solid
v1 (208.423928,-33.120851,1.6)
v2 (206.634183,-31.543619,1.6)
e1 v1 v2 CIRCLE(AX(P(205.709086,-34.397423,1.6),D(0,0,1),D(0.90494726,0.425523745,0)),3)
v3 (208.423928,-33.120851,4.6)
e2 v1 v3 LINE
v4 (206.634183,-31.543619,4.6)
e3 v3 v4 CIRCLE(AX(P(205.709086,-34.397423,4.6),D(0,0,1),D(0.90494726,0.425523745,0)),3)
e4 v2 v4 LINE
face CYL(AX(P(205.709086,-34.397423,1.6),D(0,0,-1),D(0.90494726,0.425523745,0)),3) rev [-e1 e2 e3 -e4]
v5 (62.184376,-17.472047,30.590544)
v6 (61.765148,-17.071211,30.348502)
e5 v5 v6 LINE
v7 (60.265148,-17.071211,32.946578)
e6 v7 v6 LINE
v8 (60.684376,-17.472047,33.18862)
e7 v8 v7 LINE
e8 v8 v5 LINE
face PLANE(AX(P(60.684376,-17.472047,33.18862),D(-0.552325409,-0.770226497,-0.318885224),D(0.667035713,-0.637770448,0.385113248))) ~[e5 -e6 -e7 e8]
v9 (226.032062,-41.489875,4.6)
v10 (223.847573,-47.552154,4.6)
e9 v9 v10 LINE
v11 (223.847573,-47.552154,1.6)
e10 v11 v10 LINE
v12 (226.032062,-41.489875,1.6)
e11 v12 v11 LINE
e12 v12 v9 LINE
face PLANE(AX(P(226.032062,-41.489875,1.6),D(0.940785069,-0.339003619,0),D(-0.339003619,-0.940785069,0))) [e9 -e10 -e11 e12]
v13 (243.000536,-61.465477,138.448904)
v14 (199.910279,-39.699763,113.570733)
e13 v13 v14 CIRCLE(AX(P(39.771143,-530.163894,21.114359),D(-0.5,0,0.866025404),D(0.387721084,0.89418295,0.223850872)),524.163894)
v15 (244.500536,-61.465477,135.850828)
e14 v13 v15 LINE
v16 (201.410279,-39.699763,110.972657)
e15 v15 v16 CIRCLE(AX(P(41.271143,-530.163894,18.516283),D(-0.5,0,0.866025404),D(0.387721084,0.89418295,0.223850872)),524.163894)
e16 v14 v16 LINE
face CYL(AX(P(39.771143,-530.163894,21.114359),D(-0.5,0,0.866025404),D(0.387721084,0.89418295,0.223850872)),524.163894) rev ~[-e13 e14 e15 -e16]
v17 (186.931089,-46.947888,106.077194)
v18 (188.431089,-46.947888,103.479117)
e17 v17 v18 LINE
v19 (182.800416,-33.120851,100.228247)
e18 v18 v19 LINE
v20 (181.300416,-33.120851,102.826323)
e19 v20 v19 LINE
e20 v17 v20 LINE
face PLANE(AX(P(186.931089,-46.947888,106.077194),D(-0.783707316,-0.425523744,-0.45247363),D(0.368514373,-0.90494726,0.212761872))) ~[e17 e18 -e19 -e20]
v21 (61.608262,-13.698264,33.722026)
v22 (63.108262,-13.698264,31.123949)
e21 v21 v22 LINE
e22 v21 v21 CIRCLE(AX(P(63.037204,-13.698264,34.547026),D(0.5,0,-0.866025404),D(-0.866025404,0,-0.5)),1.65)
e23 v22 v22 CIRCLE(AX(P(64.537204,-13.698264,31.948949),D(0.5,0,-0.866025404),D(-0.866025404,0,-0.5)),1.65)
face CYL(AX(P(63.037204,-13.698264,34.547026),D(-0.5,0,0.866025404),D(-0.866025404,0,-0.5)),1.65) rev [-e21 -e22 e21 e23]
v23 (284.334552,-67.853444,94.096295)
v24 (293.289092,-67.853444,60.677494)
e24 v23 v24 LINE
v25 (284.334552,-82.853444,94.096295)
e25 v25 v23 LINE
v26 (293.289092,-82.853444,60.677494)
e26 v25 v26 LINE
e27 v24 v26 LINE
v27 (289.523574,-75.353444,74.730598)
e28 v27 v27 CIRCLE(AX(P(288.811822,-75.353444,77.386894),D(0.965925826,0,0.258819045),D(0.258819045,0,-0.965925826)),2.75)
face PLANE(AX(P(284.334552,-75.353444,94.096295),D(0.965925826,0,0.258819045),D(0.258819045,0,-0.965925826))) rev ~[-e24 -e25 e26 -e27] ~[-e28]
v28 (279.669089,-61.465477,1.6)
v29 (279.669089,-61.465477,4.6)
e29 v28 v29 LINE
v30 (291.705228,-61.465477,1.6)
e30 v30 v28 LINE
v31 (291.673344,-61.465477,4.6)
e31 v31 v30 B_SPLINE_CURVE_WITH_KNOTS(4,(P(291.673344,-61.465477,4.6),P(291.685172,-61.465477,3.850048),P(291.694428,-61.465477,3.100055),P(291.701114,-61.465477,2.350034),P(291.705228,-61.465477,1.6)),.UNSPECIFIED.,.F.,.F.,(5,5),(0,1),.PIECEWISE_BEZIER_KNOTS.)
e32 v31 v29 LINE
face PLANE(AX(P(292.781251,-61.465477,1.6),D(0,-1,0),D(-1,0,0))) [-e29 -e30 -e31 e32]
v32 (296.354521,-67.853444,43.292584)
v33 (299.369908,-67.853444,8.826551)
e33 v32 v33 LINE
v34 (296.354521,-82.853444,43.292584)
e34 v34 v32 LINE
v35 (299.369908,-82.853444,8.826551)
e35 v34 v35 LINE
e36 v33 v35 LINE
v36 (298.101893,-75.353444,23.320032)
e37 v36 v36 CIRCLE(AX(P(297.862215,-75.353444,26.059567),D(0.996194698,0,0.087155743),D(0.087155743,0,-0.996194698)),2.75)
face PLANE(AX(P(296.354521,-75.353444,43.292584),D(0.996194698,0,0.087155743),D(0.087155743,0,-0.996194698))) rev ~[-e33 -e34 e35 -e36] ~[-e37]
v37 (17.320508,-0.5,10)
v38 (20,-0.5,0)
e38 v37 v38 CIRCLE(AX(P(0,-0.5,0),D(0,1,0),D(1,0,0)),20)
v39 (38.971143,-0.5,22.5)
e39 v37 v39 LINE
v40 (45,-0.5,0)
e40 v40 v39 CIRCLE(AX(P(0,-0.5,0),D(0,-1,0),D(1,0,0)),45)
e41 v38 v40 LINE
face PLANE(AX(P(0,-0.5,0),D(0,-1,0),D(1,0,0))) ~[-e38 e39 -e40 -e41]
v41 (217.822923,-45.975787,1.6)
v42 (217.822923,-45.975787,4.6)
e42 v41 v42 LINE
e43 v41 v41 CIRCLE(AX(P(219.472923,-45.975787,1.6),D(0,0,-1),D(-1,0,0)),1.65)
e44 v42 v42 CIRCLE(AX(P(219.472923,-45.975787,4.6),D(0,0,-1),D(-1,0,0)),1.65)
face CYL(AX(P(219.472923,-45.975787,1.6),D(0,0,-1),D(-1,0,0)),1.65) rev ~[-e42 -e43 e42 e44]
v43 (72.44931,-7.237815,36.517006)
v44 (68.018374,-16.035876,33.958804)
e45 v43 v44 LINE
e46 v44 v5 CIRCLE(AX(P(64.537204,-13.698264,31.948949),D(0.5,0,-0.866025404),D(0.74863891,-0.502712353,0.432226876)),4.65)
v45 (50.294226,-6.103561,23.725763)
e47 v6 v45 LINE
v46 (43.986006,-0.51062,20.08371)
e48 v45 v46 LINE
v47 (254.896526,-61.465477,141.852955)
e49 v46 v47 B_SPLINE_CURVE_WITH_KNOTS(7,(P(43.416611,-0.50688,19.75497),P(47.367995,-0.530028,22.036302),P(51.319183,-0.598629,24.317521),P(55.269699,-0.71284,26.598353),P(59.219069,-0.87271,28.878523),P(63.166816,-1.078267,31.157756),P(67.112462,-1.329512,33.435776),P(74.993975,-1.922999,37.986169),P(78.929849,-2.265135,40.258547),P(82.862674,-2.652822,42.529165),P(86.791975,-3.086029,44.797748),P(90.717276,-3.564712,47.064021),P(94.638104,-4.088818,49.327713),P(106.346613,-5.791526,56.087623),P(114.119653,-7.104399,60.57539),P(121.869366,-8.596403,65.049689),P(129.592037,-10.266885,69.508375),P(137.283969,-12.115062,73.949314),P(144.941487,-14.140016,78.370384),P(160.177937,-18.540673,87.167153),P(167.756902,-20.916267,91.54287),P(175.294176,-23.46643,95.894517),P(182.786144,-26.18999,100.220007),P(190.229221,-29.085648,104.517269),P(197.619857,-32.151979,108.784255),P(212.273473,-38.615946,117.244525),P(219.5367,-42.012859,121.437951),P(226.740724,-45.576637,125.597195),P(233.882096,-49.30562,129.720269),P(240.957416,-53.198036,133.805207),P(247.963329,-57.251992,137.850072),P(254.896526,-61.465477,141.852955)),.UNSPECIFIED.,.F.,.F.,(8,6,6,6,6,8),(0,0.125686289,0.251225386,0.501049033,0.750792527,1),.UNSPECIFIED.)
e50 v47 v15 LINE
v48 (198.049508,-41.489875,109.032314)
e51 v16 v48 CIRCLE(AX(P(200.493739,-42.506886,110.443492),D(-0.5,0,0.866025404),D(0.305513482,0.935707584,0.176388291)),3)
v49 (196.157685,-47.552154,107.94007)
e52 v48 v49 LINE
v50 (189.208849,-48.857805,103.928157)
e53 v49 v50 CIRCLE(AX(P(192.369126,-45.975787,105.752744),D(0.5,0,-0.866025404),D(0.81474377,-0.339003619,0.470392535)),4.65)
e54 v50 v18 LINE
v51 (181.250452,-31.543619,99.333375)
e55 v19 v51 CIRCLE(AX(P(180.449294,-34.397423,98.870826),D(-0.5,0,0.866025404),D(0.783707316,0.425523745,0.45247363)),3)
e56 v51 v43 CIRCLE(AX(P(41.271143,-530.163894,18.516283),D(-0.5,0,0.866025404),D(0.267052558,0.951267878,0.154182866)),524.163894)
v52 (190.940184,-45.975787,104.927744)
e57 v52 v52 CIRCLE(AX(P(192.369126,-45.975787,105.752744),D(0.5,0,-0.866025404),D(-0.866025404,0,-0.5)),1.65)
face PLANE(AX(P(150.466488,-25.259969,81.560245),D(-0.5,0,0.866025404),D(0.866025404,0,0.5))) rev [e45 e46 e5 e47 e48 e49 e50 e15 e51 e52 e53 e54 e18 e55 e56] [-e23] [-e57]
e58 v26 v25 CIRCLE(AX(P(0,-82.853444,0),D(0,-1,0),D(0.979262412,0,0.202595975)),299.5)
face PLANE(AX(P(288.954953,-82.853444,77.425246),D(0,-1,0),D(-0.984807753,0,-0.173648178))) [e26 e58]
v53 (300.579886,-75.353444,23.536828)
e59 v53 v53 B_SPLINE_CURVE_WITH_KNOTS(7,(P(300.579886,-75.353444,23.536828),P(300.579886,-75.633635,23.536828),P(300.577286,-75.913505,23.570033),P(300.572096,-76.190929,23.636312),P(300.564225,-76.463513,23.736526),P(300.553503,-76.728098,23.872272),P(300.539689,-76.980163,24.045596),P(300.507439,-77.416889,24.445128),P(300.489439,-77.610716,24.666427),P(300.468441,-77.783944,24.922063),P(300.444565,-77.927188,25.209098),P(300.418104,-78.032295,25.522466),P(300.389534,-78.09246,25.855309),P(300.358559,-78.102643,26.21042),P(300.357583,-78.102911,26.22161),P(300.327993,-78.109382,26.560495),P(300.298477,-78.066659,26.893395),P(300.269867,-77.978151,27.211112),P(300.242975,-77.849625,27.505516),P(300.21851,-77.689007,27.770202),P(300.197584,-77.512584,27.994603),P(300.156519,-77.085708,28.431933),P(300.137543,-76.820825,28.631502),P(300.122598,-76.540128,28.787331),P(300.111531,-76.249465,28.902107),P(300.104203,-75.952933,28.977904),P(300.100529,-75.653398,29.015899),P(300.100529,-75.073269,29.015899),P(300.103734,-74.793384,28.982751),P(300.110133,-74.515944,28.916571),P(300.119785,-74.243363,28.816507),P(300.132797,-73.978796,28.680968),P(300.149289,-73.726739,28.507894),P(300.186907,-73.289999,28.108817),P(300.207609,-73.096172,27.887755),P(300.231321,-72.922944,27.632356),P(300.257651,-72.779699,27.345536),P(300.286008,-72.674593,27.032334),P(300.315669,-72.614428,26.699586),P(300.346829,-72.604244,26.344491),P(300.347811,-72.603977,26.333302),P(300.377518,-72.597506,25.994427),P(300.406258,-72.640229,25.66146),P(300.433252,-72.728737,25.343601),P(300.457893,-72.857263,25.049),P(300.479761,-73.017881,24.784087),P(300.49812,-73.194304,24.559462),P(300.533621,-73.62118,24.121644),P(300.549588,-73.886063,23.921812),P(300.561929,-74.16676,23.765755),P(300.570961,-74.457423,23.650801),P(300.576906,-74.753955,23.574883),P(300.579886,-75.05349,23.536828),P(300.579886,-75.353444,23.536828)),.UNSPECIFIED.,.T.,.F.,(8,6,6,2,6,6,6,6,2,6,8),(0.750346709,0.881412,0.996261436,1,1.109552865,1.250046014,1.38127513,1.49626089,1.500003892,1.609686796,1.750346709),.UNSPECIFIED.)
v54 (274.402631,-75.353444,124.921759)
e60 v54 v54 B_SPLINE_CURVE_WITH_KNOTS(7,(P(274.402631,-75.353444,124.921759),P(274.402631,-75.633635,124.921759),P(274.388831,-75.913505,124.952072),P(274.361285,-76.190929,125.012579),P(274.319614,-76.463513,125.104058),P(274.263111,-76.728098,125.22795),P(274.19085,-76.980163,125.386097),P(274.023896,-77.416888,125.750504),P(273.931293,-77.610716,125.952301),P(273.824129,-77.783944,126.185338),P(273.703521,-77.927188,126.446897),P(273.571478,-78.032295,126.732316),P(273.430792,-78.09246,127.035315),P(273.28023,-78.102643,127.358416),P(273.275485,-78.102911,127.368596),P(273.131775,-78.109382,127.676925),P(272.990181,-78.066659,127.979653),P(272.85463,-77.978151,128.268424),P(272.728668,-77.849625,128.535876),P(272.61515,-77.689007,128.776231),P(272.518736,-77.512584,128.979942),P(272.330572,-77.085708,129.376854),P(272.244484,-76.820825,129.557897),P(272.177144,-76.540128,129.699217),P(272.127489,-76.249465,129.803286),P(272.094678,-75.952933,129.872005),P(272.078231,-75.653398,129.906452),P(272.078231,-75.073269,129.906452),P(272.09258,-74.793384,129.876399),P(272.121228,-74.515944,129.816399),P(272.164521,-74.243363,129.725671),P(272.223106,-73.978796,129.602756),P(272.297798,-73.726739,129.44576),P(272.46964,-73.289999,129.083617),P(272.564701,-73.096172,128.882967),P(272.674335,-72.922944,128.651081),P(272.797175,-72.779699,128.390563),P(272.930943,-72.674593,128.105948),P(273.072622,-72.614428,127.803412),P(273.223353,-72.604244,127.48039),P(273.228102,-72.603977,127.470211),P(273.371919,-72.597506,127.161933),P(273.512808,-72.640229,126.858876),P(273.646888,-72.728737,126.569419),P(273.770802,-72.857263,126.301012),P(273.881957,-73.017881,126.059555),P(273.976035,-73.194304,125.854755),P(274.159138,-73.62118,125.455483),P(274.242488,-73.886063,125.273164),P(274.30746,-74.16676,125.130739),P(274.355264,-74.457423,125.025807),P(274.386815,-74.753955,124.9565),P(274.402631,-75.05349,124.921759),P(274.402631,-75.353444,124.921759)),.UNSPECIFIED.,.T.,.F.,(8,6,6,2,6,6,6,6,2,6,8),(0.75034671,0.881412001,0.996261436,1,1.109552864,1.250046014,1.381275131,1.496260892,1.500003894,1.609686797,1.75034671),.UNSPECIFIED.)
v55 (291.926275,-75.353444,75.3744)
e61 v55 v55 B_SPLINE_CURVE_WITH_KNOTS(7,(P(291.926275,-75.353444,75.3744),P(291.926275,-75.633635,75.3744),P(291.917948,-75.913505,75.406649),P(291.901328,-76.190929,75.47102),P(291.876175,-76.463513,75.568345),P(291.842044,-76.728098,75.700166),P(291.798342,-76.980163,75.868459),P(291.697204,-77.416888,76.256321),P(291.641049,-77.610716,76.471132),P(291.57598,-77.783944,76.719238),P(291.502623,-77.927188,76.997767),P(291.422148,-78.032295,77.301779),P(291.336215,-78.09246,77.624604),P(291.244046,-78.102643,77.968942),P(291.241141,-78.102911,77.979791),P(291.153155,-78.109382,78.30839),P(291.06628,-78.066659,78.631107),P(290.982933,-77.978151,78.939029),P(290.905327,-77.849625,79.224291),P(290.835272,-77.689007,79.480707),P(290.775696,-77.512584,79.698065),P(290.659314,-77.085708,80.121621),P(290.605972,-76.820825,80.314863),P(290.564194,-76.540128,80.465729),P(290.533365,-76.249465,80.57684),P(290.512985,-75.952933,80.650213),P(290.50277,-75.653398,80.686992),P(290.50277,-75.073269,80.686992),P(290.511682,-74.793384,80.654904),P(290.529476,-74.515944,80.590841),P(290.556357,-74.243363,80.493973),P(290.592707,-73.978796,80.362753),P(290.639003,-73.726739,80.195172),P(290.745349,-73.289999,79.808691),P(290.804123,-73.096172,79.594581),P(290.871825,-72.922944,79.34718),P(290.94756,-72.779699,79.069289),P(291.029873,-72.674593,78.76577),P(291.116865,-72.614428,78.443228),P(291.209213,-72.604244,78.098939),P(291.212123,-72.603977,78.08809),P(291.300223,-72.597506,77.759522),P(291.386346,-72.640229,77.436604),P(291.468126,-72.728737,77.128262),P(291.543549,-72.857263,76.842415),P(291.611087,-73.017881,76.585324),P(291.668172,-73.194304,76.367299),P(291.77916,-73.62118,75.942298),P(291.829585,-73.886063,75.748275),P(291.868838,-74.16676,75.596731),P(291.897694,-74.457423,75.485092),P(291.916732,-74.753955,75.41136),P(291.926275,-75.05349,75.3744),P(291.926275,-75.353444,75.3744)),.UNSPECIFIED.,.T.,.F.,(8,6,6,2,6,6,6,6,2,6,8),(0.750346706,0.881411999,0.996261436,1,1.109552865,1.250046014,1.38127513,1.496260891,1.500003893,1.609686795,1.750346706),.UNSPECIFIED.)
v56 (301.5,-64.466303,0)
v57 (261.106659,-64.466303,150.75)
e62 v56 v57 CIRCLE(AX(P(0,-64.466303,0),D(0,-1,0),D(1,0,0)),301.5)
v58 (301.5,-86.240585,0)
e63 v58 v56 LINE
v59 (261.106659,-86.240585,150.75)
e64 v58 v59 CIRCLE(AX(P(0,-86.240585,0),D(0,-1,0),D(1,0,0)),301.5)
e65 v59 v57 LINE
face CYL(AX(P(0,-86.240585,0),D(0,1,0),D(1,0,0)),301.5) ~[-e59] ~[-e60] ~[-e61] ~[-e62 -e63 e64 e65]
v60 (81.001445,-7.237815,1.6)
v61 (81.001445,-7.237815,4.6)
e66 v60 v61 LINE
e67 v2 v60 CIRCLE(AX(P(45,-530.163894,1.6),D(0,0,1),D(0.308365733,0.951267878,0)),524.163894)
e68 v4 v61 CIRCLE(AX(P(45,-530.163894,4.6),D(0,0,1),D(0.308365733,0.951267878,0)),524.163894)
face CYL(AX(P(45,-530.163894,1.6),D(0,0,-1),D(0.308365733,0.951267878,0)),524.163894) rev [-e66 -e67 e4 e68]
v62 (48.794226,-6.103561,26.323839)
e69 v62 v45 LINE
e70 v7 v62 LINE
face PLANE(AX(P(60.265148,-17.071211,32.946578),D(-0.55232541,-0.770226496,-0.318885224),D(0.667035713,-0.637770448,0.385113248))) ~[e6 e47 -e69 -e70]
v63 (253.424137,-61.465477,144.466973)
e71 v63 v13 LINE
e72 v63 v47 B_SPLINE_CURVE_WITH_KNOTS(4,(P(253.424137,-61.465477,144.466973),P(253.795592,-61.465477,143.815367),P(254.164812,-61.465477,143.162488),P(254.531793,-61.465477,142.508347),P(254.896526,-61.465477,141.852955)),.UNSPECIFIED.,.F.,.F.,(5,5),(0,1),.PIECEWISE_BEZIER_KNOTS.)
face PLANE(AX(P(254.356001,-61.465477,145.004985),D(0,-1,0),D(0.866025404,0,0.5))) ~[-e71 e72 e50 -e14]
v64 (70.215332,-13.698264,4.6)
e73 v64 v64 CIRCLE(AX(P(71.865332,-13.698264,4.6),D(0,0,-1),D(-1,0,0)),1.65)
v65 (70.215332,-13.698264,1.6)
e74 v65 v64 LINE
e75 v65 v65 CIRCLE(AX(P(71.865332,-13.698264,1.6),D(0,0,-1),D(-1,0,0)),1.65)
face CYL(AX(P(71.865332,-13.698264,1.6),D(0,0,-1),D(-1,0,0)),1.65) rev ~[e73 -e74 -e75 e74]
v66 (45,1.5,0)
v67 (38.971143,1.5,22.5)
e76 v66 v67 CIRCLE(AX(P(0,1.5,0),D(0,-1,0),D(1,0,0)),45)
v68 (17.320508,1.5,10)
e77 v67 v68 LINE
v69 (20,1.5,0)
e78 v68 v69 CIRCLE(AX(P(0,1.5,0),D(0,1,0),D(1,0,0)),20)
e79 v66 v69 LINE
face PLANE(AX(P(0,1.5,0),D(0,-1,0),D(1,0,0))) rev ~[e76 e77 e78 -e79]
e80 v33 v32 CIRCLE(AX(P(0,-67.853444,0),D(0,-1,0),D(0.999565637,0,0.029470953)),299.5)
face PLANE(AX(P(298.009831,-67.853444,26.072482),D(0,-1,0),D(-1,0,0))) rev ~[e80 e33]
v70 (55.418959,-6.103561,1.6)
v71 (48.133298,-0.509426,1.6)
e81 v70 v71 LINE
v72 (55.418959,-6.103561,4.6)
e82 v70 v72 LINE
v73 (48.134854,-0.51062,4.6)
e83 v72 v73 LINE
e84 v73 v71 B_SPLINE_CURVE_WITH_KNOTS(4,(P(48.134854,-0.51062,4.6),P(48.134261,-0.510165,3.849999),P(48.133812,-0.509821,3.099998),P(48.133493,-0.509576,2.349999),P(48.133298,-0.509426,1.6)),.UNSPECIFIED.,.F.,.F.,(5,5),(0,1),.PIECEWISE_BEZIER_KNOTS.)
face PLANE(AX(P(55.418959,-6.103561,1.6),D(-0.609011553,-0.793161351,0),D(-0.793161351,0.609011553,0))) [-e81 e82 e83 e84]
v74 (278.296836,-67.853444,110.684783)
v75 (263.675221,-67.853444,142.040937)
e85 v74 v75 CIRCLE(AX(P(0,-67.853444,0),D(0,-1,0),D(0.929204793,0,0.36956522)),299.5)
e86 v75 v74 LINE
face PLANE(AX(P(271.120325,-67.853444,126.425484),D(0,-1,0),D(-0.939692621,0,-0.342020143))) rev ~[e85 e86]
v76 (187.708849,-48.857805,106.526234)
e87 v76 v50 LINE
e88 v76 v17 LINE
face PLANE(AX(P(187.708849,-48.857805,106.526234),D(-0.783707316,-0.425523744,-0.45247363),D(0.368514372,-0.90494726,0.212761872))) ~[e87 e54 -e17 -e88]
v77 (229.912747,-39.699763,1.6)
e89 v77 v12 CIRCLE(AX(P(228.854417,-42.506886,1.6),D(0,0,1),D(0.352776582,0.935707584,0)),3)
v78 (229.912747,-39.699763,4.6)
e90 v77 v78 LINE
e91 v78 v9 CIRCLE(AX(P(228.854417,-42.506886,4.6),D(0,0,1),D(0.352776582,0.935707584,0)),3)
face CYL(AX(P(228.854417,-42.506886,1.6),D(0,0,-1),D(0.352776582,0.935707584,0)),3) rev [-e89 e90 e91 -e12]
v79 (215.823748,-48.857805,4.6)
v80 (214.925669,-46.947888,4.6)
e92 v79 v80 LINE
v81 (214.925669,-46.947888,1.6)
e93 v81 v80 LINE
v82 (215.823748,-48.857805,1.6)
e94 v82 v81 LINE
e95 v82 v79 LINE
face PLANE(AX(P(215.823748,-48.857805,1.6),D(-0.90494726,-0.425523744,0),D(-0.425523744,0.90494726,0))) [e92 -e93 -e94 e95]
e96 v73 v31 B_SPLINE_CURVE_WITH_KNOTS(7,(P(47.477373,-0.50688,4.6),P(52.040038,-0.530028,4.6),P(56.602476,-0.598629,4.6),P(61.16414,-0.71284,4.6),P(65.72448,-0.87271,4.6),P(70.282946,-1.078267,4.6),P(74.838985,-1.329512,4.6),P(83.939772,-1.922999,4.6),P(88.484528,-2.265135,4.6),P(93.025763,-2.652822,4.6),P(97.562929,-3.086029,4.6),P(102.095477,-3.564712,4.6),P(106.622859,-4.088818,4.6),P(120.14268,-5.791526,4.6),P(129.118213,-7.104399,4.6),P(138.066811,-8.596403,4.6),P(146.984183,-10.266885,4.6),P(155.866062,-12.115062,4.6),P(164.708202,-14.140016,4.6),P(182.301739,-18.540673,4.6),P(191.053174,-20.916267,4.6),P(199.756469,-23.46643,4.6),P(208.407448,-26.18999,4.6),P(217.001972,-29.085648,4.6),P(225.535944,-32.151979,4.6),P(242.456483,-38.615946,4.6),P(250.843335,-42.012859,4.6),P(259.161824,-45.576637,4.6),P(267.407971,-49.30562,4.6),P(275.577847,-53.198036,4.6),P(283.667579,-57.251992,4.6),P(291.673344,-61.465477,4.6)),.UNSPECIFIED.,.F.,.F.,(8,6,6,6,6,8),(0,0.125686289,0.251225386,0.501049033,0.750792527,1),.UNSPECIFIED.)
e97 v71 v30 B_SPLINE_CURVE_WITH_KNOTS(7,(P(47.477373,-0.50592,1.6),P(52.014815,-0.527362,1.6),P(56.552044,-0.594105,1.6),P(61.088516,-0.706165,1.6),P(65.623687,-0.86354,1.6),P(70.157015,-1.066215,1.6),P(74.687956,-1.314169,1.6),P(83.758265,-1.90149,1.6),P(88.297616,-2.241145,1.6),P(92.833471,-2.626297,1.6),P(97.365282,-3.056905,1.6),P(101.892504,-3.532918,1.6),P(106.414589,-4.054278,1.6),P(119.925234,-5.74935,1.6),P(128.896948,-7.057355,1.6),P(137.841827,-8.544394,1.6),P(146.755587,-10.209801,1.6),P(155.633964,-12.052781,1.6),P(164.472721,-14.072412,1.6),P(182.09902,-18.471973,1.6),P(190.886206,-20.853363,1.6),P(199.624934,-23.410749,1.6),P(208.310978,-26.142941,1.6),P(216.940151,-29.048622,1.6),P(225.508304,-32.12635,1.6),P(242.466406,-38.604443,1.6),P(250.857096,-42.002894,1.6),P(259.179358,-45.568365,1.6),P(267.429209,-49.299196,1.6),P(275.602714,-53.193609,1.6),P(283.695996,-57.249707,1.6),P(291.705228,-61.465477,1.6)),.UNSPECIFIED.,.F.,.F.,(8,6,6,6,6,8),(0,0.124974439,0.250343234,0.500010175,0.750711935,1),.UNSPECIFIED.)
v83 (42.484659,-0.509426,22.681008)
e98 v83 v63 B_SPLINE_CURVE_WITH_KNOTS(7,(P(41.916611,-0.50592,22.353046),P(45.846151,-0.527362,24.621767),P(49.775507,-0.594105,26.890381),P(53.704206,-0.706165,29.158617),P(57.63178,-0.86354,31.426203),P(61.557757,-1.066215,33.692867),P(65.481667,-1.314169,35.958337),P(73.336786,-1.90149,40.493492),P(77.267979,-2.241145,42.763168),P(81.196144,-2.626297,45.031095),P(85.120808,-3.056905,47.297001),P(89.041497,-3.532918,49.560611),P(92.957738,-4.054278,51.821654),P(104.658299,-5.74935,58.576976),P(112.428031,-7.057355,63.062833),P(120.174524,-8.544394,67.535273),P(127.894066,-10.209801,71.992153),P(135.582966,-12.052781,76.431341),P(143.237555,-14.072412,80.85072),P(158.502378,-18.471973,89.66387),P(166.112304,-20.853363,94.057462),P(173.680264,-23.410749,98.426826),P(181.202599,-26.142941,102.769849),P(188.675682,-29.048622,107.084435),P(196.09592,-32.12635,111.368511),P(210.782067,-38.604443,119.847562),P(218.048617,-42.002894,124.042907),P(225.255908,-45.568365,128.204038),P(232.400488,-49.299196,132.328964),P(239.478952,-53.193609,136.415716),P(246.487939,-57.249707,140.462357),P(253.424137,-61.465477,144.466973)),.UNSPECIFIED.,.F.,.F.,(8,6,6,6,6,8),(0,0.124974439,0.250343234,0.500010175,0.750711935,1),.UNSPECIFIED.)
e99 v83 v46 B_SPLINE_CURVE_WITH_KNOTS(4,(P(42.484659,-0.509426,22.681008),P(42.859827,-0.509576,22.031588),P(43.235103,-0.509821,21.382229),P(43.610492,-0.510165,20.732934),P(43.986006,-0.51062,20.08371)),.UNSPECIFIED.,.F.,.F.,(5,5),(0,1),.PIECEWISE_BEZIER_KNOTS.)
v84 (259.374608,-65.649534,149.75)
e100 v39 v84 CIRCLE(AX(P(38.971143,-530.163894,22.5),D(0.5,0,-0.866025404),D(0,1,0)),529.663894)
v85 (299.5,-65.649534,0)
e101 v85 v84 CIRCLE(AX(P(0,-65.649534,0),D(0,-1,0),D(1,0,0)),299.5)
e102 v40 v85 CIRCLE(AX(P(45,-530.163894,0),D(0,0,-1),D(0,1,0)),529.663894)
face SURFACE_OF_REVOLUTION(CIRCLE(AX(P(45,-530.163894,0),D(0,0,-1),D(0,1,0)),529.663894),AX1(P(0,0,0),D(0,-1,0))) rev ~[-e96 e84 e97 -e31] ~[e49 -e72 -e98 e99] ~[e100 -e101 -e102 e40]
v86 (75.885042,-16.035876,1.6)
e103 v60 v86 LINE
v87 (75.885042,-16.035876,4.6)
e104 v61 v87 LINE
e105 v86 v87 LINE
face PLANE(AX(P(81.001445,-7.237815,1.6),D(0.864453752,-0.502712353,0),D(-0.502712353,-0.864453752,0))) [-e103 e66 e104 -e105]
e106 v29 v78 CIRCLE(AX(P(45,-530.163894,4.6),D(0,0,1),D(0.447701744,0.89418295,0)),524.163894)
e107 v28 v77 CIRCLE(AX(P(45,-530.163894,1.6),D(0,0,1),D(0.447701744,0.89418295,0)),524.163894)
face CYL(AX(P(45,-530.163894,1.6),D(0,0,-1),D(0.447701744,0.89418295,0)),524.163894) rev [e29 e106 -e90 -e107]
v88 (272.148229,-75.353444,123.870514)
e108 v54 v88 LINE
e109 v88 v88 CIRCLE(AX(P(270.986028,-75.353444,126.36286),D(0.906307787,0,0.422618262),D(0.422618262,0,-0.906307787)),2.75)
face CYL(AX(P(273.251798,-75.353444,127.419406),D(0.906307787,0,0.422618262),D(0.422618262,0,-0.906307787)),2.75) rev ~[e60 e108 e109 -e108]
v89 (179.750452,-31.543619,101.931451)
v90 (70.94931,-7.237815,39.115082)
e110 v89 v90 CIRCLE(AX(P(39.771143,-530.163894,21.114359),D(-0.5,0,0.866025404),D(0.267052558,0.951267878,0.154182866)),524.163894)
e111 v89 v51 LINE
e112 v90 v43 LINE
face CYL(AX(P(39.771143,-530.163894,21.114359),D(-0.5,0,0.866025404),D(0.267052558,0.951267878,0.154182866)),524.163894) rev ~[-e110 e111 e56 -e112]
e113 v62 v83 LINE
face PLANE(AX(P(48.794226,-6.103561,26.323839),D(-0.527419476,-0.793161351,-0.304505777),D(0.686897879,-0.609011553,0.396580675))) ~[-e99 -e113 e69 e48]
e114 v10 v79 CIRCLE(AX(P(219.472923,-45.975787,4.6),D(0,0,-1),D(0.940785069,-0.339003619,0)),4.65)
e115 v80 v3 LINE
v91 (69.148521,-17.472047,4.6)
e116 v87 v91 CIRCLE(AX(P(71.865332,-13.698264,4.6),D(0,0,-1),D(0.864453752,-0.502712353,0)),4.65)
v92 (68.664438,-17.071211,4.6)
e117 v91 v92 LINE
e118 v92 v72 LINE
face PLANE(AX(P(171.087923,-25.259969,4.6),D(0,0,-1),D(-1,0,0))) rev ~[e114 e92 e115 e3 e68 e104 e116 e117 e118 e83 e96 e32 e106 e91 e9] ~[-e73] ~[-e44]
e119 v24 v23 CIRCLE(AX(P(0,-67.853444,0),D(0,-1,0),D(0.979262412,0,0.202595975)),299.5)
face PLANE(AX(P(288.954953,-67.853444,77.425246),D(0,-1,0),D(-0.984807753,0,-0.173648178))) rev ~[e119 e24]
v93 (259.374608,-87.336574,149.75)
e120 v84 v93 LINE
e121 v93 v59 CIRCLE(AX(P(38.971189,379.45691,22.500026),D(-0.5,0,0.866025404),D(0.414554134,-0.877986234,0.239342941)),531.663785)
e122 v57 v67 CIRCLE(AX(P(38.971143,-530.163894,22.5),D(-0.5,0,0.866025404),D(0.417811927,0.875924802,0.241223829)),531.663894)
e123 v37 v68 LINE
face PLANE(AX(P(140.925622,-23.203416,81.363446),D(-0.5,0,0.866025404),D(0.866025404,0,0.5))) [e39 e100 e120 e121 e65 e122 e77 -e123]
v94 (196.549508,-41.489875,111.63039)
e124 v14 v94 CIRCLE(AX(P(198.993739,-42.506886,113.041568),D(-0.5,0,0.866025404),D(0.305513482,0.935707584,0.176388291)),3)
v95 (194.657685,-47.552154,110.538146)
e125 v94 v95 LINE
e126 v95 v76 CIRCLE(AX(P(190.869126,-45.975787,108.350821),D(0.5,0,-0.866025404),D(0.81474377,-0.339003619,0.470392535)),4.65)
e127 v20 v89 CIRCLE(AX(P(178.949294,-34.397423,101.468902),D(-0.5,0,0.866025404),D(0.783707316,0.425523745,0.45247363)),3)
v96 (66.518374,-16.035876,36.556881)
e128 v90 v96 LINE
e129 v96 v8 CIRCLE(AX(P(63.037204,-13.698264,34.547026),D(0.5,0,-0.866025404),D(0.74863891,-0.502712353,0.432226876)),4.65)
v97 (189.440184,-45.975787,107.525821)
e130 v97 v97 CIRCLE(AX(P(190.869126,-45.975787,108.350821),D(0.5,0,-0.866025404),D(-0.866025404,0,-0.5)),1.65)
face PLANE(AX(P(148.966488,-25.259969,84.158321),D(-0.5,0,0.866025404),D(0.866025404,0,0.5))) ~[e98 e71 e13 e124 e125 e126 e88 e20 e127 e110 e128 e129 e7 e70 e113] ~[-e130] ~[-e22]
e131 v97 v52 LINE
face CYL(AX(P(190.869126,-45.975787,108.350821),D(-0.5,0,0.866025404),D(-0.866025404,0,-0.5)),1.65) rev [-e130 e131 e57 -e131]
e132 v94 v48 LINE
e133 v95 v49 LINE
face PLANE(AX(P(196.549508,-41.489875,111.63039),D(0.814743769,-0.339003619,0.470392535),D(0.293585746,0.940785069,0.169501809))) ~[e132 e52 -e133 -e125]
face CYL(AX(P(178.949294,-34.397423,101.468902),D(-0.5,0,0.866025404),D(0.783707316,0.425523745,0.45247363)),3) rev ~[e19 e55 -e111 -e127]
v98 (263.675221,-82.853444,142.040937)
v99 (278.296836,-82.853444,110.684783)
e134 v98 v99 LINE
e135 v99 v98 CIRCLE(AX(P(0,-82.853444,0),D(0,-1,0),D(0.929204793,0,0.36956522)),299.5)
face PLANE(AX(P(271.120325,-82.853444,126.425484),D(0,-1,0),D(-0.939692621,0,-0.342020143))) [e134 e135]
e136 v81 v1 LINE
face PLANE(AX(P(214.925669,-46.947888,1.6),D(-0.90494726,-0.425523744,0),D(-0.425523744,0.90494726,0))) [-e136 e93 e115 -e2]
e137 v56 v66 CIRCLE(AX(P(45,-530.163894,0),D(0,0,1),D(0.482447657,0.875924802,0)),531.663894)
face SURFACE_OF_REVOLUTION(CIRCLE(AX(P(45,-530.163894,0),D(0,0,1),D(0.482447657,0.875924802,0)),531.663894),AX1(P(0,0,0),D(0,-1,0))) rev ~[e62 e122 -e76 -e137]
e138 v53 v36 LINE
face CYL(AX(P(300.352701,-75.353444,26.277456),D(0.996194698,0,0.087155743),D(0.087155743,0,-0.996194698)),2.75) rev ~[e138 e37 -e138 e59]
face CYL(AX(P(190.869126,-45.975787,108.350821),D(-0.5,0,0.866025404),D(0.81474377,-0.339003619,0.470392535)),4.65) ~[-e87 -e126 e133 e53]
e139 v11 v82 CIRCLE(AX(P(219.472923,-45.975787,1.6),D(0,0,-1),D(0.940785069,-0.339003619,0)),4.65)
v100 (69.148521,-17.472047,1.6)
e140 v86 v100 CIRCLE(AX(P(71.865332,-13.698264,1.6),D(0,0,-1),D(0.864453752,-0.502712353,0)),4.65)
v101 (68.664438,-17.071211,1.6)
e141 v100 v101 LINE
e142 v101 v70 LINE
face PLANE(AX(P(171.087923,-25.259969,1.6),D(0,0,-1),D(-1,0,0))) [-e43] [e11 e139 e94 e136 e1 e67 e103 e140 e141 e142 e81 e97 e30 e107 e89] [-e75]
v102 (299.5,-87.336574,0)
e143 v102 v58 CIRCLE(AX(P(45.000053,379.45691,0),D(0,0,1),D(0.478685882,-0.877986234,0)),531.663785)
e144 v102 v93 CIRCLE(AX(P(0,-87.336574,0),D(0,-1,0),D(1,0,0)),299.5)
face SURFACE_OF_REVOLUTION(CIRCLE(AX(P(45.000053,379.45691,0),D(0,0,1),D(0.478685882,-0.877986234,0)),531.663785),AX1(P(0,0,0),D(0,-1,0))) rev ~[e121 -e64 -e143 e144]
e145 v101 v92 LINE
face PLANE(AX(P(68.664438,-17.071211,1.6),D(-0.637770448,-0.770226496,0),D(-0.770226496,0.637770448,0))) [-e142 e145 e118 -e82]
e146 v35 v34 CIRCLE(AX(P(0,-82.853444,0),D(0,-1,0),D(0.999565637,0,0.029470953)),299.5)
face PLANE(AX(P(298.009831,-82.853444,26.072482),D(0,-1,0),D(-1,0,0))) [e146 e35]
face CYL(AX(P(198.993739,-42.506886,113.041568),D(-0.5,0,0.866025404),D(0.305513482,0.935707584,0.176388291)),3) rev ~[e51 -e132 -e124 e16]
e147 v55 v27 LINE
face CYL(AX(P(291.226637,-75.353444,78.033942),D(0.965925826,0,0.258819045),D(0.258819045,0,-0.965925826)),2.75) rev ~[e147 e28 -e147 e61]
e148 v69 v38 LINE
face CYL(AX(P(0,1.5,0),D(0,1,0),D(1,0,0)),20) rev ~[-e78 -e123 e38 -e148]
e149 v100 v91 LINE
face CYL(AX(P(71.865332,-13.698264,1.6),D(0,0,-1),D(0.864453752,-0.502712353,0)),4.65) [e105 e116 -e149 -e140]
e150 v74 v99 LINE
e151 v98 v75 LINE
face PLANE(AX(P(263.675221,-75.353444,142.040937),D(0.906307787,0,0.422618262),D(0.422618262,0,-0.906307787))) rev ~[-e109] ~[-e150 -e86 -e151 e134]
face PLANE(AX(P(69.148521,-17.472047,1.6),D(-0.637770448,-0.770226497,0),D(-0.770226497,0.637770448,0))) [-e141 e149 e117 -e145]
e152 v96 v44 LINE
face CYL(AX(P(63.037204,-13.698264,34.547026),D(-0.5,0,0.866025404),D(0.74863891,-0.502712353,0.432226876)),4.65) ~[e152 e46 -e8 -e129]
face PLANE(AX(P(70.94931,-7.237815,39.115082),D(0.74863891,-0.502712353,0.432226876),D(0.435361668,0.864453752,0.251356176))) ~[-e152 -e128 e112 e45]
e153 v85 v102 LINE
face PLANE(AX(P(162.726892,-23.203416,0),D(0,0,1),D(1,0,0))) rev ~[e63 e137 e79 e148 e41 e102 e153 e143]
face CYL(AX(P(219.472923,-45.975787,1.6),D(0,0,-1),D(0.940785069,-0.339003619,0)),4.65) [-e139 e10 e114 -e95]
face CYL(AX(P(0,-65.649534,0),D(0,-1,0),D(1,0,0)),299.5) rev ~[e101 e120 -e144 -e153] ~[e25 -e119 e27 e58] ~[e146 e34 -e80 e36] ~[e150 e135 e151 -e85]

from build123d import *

# Parameters (mm, degrees)
REVOLVE1_ANGLE      = 30
SKETCH8_R           = 20
CUT_EXTRUDE1_DEPTH  = 10
SKETCH9_R           = 1.65
BOSS_EXTRUDE1_DEPTH = 3
BOSS_EXTRUDE2_DEPTH = 7.5
SKETCH10_R          = 2.75
CUT_EXTRUDE2_DEPTH  = 322.291633421
CIRPATTERN1_COUNT   = 3
CIRPATTERN1_ANGLE   = 20


with BuildPart() as part:
    # Sketch7 → Revolve1 (revolve)
    with BuildSketch(Plane.XY):
        with BuildLine():
            Line((45, 1.5), (0, 1.5))
            Line((0, 1.5), (0, -0.5))
            Line((0, -0.5), (0.5, -0.5))
            Line((0.5, -0.5), (45, -0.5))
            ThreePointArc((45, -0.5), (176.353256324, -17.04581533), (299.5, -65.649534053))
            Line((299.5, -65.649534053), (299.5, -85.057353814))
            Line((299.5, -85.057353814), (299.5, -87.3365737))
            ThreePointArc((299.5, -87.3365737), (300.500587667, -86.78965163), (301.5, -86.24058477))
            Line((301.5, -86.24058477), (301.5, -64.466303097))
            ThreePointArc((301.5, -64.466303097), (177.423377038, -15.255605667), (45, 1.5))
        make_face()
    revolve(axis=Axis((0, 0, 0), (0, -1, 0)), revolution_arc=REVOLVE1_ANGLE)

    # Sketch8 → Cut-Extrude1 (cut)
    with BuildSketch(Plane(origin=(0, 1.5, 0), x_dir=(1, 0, 0), z_dir=(0, 1, 0))):
        Circle(SKETCH8_R)
    extrude(amount=-CUT_EXTRUDE1_DEPTH, mode=Mode.SUBTRACT)

    # Sketch9 → Boss-Extrude1 (add)
    with BuildSketch(Plane(origin=(0, 0, 1.6), x_dir=(-1, 0, 0), z_dir=(0, 0, -1))):
        with BuildLine():
            ThreePointArc((-47.477373191, -0.005788221), (-173.847460419, -15.895397549), (-292.781250831, -61.465476862))
            Line((-292.781250831, -61.465476862), (-279.669089435, -61.465476862))
            ThreePointArc((-279.669089435, -61.465476862), (-255.073001384, -49.937778659), (-229.91274685, -39.699762977))
            ThreePointArc((-229.91274685, -39.699762977), (-227.597805944, -39.782747629), (-226.032061896, -41.489874873))
            Line((-226.032061896, -41.489874873), (-223.847573085, -47.552153691))
            ThreePointArc((-223.847573085, -47.552153691), (-220.219756041, -50.565420802), (-215.82374839, -48.857804945))
            Line((-215.82374839, -48.857804945), (-214.925668504, -46.947888182))
            Line((-214.925668504, -46.947888182), (-208.423927791, -33.120851453))
            ThreePointArc((-208.423927791, -33.120851453), (-207.69256892, -32.146690461), (-206.634183209, -31.543619054))
            ThreePointArc((-206.634183209, -31.543619054), (-144.562309401, -15.54254357), (-81.001445464, -7.237815383))
            Line((-81.001445464, -7.237815383), (-75.885042341, -16.035876247))
            ThreePointArc((-75.885042341, -16.035876247), (-72.834885241, -18.246061874), (-69.148521267, -17.472046696))
            Line((-69.148521267, -17.472046696), (-68.664438088, -17.071211426))
            Line((-68.664438088, -17.071211426), (-55.418958748, -6.103560573))
            Line((-55.418958748, -6.103560573), (-47.477373191, -0.005788221))
        make_face()
        with Locations((-219.472922513, -45.975786864)):
            Circle(SKETCH9_R, mode=Mode.SUBTRACT)
        with Locations((-71.865332392, -13.698263805)):
            Circle(SKETCH9_R, mode=Mode.SUBTRACT)
    boss_extrude1 = extrude(amount=-BOSS_EXTRUDE1_DEPTH)

    # Mirror1: Boss-Extrude1 across plane
    add(boss_extrude1.mirror(Plane(origin=(0, 0, 0), x_dir=(0.9659258262890681, 0, 0.2588190451025213), z_dir=(0.2588190451025213, 0, -0.9659258262890682))))

    # Sketch11 → Boss-Extrude2 (add, symmetric)
    with BuildSketch(Plane(origin=(0, -75.353443934, 0), x_dir=(1, 0, 0), z_dir=(0, 1, 0))):
        with BuildLine():
            Line((296.354521141, -43.29258365), (299.369908318, -8.826550513))
            ThreePointArc((299.369908318, -8.826550513), (298.360312078, -26.103144953), (296.354521141, -43.29258365))
        make_face()
    boss_extrude2 = extrude(amount=BOSS_EXTRUDE2_DEPTH, both=True)

    # Sketch10 → Cut-Extrude2 (cut, through all)
    with BuildSketch(Plane(origin=(300.352701475, 0, 26.277456438), x_dir=(0.08715574274765836, 0, -0.9961946980917455), z_dir=(0.9961946980917457, 0, 0.08715574274765837))):
        with Locations((0, -75.353443934)):
            Circle(SKETCH10_R)
    cut_extrude2 = extrude(amount=-CUT_EXTRUDE2_DEPTH, mode=Mode.SUBTRACT)

    # CirPattern1: Boss-Extrude2, Cut-Extrude2 ×3 about axis
    cirpattern1_axis = Axis((0, 0, 0), (0, -1, 0))
    add([boss_extrude2.rotate(cirpattern1_axis, i * CIRPATTERN1_ANGLE / (CIRPATTERN1_COUNT - 1)) for i in range(1, CIRPATTERN1_COUNT)])
    add([cut_extrude2.rotate(cirpattern1_axis, i * CIRPATTERN1_ANGLE / (CIRPATTERN1_COUNT - 1)) for i in range(1, CIRPATTERN1_COUNT)], mode=Mode.SUBTRACT)


solid = part.part
